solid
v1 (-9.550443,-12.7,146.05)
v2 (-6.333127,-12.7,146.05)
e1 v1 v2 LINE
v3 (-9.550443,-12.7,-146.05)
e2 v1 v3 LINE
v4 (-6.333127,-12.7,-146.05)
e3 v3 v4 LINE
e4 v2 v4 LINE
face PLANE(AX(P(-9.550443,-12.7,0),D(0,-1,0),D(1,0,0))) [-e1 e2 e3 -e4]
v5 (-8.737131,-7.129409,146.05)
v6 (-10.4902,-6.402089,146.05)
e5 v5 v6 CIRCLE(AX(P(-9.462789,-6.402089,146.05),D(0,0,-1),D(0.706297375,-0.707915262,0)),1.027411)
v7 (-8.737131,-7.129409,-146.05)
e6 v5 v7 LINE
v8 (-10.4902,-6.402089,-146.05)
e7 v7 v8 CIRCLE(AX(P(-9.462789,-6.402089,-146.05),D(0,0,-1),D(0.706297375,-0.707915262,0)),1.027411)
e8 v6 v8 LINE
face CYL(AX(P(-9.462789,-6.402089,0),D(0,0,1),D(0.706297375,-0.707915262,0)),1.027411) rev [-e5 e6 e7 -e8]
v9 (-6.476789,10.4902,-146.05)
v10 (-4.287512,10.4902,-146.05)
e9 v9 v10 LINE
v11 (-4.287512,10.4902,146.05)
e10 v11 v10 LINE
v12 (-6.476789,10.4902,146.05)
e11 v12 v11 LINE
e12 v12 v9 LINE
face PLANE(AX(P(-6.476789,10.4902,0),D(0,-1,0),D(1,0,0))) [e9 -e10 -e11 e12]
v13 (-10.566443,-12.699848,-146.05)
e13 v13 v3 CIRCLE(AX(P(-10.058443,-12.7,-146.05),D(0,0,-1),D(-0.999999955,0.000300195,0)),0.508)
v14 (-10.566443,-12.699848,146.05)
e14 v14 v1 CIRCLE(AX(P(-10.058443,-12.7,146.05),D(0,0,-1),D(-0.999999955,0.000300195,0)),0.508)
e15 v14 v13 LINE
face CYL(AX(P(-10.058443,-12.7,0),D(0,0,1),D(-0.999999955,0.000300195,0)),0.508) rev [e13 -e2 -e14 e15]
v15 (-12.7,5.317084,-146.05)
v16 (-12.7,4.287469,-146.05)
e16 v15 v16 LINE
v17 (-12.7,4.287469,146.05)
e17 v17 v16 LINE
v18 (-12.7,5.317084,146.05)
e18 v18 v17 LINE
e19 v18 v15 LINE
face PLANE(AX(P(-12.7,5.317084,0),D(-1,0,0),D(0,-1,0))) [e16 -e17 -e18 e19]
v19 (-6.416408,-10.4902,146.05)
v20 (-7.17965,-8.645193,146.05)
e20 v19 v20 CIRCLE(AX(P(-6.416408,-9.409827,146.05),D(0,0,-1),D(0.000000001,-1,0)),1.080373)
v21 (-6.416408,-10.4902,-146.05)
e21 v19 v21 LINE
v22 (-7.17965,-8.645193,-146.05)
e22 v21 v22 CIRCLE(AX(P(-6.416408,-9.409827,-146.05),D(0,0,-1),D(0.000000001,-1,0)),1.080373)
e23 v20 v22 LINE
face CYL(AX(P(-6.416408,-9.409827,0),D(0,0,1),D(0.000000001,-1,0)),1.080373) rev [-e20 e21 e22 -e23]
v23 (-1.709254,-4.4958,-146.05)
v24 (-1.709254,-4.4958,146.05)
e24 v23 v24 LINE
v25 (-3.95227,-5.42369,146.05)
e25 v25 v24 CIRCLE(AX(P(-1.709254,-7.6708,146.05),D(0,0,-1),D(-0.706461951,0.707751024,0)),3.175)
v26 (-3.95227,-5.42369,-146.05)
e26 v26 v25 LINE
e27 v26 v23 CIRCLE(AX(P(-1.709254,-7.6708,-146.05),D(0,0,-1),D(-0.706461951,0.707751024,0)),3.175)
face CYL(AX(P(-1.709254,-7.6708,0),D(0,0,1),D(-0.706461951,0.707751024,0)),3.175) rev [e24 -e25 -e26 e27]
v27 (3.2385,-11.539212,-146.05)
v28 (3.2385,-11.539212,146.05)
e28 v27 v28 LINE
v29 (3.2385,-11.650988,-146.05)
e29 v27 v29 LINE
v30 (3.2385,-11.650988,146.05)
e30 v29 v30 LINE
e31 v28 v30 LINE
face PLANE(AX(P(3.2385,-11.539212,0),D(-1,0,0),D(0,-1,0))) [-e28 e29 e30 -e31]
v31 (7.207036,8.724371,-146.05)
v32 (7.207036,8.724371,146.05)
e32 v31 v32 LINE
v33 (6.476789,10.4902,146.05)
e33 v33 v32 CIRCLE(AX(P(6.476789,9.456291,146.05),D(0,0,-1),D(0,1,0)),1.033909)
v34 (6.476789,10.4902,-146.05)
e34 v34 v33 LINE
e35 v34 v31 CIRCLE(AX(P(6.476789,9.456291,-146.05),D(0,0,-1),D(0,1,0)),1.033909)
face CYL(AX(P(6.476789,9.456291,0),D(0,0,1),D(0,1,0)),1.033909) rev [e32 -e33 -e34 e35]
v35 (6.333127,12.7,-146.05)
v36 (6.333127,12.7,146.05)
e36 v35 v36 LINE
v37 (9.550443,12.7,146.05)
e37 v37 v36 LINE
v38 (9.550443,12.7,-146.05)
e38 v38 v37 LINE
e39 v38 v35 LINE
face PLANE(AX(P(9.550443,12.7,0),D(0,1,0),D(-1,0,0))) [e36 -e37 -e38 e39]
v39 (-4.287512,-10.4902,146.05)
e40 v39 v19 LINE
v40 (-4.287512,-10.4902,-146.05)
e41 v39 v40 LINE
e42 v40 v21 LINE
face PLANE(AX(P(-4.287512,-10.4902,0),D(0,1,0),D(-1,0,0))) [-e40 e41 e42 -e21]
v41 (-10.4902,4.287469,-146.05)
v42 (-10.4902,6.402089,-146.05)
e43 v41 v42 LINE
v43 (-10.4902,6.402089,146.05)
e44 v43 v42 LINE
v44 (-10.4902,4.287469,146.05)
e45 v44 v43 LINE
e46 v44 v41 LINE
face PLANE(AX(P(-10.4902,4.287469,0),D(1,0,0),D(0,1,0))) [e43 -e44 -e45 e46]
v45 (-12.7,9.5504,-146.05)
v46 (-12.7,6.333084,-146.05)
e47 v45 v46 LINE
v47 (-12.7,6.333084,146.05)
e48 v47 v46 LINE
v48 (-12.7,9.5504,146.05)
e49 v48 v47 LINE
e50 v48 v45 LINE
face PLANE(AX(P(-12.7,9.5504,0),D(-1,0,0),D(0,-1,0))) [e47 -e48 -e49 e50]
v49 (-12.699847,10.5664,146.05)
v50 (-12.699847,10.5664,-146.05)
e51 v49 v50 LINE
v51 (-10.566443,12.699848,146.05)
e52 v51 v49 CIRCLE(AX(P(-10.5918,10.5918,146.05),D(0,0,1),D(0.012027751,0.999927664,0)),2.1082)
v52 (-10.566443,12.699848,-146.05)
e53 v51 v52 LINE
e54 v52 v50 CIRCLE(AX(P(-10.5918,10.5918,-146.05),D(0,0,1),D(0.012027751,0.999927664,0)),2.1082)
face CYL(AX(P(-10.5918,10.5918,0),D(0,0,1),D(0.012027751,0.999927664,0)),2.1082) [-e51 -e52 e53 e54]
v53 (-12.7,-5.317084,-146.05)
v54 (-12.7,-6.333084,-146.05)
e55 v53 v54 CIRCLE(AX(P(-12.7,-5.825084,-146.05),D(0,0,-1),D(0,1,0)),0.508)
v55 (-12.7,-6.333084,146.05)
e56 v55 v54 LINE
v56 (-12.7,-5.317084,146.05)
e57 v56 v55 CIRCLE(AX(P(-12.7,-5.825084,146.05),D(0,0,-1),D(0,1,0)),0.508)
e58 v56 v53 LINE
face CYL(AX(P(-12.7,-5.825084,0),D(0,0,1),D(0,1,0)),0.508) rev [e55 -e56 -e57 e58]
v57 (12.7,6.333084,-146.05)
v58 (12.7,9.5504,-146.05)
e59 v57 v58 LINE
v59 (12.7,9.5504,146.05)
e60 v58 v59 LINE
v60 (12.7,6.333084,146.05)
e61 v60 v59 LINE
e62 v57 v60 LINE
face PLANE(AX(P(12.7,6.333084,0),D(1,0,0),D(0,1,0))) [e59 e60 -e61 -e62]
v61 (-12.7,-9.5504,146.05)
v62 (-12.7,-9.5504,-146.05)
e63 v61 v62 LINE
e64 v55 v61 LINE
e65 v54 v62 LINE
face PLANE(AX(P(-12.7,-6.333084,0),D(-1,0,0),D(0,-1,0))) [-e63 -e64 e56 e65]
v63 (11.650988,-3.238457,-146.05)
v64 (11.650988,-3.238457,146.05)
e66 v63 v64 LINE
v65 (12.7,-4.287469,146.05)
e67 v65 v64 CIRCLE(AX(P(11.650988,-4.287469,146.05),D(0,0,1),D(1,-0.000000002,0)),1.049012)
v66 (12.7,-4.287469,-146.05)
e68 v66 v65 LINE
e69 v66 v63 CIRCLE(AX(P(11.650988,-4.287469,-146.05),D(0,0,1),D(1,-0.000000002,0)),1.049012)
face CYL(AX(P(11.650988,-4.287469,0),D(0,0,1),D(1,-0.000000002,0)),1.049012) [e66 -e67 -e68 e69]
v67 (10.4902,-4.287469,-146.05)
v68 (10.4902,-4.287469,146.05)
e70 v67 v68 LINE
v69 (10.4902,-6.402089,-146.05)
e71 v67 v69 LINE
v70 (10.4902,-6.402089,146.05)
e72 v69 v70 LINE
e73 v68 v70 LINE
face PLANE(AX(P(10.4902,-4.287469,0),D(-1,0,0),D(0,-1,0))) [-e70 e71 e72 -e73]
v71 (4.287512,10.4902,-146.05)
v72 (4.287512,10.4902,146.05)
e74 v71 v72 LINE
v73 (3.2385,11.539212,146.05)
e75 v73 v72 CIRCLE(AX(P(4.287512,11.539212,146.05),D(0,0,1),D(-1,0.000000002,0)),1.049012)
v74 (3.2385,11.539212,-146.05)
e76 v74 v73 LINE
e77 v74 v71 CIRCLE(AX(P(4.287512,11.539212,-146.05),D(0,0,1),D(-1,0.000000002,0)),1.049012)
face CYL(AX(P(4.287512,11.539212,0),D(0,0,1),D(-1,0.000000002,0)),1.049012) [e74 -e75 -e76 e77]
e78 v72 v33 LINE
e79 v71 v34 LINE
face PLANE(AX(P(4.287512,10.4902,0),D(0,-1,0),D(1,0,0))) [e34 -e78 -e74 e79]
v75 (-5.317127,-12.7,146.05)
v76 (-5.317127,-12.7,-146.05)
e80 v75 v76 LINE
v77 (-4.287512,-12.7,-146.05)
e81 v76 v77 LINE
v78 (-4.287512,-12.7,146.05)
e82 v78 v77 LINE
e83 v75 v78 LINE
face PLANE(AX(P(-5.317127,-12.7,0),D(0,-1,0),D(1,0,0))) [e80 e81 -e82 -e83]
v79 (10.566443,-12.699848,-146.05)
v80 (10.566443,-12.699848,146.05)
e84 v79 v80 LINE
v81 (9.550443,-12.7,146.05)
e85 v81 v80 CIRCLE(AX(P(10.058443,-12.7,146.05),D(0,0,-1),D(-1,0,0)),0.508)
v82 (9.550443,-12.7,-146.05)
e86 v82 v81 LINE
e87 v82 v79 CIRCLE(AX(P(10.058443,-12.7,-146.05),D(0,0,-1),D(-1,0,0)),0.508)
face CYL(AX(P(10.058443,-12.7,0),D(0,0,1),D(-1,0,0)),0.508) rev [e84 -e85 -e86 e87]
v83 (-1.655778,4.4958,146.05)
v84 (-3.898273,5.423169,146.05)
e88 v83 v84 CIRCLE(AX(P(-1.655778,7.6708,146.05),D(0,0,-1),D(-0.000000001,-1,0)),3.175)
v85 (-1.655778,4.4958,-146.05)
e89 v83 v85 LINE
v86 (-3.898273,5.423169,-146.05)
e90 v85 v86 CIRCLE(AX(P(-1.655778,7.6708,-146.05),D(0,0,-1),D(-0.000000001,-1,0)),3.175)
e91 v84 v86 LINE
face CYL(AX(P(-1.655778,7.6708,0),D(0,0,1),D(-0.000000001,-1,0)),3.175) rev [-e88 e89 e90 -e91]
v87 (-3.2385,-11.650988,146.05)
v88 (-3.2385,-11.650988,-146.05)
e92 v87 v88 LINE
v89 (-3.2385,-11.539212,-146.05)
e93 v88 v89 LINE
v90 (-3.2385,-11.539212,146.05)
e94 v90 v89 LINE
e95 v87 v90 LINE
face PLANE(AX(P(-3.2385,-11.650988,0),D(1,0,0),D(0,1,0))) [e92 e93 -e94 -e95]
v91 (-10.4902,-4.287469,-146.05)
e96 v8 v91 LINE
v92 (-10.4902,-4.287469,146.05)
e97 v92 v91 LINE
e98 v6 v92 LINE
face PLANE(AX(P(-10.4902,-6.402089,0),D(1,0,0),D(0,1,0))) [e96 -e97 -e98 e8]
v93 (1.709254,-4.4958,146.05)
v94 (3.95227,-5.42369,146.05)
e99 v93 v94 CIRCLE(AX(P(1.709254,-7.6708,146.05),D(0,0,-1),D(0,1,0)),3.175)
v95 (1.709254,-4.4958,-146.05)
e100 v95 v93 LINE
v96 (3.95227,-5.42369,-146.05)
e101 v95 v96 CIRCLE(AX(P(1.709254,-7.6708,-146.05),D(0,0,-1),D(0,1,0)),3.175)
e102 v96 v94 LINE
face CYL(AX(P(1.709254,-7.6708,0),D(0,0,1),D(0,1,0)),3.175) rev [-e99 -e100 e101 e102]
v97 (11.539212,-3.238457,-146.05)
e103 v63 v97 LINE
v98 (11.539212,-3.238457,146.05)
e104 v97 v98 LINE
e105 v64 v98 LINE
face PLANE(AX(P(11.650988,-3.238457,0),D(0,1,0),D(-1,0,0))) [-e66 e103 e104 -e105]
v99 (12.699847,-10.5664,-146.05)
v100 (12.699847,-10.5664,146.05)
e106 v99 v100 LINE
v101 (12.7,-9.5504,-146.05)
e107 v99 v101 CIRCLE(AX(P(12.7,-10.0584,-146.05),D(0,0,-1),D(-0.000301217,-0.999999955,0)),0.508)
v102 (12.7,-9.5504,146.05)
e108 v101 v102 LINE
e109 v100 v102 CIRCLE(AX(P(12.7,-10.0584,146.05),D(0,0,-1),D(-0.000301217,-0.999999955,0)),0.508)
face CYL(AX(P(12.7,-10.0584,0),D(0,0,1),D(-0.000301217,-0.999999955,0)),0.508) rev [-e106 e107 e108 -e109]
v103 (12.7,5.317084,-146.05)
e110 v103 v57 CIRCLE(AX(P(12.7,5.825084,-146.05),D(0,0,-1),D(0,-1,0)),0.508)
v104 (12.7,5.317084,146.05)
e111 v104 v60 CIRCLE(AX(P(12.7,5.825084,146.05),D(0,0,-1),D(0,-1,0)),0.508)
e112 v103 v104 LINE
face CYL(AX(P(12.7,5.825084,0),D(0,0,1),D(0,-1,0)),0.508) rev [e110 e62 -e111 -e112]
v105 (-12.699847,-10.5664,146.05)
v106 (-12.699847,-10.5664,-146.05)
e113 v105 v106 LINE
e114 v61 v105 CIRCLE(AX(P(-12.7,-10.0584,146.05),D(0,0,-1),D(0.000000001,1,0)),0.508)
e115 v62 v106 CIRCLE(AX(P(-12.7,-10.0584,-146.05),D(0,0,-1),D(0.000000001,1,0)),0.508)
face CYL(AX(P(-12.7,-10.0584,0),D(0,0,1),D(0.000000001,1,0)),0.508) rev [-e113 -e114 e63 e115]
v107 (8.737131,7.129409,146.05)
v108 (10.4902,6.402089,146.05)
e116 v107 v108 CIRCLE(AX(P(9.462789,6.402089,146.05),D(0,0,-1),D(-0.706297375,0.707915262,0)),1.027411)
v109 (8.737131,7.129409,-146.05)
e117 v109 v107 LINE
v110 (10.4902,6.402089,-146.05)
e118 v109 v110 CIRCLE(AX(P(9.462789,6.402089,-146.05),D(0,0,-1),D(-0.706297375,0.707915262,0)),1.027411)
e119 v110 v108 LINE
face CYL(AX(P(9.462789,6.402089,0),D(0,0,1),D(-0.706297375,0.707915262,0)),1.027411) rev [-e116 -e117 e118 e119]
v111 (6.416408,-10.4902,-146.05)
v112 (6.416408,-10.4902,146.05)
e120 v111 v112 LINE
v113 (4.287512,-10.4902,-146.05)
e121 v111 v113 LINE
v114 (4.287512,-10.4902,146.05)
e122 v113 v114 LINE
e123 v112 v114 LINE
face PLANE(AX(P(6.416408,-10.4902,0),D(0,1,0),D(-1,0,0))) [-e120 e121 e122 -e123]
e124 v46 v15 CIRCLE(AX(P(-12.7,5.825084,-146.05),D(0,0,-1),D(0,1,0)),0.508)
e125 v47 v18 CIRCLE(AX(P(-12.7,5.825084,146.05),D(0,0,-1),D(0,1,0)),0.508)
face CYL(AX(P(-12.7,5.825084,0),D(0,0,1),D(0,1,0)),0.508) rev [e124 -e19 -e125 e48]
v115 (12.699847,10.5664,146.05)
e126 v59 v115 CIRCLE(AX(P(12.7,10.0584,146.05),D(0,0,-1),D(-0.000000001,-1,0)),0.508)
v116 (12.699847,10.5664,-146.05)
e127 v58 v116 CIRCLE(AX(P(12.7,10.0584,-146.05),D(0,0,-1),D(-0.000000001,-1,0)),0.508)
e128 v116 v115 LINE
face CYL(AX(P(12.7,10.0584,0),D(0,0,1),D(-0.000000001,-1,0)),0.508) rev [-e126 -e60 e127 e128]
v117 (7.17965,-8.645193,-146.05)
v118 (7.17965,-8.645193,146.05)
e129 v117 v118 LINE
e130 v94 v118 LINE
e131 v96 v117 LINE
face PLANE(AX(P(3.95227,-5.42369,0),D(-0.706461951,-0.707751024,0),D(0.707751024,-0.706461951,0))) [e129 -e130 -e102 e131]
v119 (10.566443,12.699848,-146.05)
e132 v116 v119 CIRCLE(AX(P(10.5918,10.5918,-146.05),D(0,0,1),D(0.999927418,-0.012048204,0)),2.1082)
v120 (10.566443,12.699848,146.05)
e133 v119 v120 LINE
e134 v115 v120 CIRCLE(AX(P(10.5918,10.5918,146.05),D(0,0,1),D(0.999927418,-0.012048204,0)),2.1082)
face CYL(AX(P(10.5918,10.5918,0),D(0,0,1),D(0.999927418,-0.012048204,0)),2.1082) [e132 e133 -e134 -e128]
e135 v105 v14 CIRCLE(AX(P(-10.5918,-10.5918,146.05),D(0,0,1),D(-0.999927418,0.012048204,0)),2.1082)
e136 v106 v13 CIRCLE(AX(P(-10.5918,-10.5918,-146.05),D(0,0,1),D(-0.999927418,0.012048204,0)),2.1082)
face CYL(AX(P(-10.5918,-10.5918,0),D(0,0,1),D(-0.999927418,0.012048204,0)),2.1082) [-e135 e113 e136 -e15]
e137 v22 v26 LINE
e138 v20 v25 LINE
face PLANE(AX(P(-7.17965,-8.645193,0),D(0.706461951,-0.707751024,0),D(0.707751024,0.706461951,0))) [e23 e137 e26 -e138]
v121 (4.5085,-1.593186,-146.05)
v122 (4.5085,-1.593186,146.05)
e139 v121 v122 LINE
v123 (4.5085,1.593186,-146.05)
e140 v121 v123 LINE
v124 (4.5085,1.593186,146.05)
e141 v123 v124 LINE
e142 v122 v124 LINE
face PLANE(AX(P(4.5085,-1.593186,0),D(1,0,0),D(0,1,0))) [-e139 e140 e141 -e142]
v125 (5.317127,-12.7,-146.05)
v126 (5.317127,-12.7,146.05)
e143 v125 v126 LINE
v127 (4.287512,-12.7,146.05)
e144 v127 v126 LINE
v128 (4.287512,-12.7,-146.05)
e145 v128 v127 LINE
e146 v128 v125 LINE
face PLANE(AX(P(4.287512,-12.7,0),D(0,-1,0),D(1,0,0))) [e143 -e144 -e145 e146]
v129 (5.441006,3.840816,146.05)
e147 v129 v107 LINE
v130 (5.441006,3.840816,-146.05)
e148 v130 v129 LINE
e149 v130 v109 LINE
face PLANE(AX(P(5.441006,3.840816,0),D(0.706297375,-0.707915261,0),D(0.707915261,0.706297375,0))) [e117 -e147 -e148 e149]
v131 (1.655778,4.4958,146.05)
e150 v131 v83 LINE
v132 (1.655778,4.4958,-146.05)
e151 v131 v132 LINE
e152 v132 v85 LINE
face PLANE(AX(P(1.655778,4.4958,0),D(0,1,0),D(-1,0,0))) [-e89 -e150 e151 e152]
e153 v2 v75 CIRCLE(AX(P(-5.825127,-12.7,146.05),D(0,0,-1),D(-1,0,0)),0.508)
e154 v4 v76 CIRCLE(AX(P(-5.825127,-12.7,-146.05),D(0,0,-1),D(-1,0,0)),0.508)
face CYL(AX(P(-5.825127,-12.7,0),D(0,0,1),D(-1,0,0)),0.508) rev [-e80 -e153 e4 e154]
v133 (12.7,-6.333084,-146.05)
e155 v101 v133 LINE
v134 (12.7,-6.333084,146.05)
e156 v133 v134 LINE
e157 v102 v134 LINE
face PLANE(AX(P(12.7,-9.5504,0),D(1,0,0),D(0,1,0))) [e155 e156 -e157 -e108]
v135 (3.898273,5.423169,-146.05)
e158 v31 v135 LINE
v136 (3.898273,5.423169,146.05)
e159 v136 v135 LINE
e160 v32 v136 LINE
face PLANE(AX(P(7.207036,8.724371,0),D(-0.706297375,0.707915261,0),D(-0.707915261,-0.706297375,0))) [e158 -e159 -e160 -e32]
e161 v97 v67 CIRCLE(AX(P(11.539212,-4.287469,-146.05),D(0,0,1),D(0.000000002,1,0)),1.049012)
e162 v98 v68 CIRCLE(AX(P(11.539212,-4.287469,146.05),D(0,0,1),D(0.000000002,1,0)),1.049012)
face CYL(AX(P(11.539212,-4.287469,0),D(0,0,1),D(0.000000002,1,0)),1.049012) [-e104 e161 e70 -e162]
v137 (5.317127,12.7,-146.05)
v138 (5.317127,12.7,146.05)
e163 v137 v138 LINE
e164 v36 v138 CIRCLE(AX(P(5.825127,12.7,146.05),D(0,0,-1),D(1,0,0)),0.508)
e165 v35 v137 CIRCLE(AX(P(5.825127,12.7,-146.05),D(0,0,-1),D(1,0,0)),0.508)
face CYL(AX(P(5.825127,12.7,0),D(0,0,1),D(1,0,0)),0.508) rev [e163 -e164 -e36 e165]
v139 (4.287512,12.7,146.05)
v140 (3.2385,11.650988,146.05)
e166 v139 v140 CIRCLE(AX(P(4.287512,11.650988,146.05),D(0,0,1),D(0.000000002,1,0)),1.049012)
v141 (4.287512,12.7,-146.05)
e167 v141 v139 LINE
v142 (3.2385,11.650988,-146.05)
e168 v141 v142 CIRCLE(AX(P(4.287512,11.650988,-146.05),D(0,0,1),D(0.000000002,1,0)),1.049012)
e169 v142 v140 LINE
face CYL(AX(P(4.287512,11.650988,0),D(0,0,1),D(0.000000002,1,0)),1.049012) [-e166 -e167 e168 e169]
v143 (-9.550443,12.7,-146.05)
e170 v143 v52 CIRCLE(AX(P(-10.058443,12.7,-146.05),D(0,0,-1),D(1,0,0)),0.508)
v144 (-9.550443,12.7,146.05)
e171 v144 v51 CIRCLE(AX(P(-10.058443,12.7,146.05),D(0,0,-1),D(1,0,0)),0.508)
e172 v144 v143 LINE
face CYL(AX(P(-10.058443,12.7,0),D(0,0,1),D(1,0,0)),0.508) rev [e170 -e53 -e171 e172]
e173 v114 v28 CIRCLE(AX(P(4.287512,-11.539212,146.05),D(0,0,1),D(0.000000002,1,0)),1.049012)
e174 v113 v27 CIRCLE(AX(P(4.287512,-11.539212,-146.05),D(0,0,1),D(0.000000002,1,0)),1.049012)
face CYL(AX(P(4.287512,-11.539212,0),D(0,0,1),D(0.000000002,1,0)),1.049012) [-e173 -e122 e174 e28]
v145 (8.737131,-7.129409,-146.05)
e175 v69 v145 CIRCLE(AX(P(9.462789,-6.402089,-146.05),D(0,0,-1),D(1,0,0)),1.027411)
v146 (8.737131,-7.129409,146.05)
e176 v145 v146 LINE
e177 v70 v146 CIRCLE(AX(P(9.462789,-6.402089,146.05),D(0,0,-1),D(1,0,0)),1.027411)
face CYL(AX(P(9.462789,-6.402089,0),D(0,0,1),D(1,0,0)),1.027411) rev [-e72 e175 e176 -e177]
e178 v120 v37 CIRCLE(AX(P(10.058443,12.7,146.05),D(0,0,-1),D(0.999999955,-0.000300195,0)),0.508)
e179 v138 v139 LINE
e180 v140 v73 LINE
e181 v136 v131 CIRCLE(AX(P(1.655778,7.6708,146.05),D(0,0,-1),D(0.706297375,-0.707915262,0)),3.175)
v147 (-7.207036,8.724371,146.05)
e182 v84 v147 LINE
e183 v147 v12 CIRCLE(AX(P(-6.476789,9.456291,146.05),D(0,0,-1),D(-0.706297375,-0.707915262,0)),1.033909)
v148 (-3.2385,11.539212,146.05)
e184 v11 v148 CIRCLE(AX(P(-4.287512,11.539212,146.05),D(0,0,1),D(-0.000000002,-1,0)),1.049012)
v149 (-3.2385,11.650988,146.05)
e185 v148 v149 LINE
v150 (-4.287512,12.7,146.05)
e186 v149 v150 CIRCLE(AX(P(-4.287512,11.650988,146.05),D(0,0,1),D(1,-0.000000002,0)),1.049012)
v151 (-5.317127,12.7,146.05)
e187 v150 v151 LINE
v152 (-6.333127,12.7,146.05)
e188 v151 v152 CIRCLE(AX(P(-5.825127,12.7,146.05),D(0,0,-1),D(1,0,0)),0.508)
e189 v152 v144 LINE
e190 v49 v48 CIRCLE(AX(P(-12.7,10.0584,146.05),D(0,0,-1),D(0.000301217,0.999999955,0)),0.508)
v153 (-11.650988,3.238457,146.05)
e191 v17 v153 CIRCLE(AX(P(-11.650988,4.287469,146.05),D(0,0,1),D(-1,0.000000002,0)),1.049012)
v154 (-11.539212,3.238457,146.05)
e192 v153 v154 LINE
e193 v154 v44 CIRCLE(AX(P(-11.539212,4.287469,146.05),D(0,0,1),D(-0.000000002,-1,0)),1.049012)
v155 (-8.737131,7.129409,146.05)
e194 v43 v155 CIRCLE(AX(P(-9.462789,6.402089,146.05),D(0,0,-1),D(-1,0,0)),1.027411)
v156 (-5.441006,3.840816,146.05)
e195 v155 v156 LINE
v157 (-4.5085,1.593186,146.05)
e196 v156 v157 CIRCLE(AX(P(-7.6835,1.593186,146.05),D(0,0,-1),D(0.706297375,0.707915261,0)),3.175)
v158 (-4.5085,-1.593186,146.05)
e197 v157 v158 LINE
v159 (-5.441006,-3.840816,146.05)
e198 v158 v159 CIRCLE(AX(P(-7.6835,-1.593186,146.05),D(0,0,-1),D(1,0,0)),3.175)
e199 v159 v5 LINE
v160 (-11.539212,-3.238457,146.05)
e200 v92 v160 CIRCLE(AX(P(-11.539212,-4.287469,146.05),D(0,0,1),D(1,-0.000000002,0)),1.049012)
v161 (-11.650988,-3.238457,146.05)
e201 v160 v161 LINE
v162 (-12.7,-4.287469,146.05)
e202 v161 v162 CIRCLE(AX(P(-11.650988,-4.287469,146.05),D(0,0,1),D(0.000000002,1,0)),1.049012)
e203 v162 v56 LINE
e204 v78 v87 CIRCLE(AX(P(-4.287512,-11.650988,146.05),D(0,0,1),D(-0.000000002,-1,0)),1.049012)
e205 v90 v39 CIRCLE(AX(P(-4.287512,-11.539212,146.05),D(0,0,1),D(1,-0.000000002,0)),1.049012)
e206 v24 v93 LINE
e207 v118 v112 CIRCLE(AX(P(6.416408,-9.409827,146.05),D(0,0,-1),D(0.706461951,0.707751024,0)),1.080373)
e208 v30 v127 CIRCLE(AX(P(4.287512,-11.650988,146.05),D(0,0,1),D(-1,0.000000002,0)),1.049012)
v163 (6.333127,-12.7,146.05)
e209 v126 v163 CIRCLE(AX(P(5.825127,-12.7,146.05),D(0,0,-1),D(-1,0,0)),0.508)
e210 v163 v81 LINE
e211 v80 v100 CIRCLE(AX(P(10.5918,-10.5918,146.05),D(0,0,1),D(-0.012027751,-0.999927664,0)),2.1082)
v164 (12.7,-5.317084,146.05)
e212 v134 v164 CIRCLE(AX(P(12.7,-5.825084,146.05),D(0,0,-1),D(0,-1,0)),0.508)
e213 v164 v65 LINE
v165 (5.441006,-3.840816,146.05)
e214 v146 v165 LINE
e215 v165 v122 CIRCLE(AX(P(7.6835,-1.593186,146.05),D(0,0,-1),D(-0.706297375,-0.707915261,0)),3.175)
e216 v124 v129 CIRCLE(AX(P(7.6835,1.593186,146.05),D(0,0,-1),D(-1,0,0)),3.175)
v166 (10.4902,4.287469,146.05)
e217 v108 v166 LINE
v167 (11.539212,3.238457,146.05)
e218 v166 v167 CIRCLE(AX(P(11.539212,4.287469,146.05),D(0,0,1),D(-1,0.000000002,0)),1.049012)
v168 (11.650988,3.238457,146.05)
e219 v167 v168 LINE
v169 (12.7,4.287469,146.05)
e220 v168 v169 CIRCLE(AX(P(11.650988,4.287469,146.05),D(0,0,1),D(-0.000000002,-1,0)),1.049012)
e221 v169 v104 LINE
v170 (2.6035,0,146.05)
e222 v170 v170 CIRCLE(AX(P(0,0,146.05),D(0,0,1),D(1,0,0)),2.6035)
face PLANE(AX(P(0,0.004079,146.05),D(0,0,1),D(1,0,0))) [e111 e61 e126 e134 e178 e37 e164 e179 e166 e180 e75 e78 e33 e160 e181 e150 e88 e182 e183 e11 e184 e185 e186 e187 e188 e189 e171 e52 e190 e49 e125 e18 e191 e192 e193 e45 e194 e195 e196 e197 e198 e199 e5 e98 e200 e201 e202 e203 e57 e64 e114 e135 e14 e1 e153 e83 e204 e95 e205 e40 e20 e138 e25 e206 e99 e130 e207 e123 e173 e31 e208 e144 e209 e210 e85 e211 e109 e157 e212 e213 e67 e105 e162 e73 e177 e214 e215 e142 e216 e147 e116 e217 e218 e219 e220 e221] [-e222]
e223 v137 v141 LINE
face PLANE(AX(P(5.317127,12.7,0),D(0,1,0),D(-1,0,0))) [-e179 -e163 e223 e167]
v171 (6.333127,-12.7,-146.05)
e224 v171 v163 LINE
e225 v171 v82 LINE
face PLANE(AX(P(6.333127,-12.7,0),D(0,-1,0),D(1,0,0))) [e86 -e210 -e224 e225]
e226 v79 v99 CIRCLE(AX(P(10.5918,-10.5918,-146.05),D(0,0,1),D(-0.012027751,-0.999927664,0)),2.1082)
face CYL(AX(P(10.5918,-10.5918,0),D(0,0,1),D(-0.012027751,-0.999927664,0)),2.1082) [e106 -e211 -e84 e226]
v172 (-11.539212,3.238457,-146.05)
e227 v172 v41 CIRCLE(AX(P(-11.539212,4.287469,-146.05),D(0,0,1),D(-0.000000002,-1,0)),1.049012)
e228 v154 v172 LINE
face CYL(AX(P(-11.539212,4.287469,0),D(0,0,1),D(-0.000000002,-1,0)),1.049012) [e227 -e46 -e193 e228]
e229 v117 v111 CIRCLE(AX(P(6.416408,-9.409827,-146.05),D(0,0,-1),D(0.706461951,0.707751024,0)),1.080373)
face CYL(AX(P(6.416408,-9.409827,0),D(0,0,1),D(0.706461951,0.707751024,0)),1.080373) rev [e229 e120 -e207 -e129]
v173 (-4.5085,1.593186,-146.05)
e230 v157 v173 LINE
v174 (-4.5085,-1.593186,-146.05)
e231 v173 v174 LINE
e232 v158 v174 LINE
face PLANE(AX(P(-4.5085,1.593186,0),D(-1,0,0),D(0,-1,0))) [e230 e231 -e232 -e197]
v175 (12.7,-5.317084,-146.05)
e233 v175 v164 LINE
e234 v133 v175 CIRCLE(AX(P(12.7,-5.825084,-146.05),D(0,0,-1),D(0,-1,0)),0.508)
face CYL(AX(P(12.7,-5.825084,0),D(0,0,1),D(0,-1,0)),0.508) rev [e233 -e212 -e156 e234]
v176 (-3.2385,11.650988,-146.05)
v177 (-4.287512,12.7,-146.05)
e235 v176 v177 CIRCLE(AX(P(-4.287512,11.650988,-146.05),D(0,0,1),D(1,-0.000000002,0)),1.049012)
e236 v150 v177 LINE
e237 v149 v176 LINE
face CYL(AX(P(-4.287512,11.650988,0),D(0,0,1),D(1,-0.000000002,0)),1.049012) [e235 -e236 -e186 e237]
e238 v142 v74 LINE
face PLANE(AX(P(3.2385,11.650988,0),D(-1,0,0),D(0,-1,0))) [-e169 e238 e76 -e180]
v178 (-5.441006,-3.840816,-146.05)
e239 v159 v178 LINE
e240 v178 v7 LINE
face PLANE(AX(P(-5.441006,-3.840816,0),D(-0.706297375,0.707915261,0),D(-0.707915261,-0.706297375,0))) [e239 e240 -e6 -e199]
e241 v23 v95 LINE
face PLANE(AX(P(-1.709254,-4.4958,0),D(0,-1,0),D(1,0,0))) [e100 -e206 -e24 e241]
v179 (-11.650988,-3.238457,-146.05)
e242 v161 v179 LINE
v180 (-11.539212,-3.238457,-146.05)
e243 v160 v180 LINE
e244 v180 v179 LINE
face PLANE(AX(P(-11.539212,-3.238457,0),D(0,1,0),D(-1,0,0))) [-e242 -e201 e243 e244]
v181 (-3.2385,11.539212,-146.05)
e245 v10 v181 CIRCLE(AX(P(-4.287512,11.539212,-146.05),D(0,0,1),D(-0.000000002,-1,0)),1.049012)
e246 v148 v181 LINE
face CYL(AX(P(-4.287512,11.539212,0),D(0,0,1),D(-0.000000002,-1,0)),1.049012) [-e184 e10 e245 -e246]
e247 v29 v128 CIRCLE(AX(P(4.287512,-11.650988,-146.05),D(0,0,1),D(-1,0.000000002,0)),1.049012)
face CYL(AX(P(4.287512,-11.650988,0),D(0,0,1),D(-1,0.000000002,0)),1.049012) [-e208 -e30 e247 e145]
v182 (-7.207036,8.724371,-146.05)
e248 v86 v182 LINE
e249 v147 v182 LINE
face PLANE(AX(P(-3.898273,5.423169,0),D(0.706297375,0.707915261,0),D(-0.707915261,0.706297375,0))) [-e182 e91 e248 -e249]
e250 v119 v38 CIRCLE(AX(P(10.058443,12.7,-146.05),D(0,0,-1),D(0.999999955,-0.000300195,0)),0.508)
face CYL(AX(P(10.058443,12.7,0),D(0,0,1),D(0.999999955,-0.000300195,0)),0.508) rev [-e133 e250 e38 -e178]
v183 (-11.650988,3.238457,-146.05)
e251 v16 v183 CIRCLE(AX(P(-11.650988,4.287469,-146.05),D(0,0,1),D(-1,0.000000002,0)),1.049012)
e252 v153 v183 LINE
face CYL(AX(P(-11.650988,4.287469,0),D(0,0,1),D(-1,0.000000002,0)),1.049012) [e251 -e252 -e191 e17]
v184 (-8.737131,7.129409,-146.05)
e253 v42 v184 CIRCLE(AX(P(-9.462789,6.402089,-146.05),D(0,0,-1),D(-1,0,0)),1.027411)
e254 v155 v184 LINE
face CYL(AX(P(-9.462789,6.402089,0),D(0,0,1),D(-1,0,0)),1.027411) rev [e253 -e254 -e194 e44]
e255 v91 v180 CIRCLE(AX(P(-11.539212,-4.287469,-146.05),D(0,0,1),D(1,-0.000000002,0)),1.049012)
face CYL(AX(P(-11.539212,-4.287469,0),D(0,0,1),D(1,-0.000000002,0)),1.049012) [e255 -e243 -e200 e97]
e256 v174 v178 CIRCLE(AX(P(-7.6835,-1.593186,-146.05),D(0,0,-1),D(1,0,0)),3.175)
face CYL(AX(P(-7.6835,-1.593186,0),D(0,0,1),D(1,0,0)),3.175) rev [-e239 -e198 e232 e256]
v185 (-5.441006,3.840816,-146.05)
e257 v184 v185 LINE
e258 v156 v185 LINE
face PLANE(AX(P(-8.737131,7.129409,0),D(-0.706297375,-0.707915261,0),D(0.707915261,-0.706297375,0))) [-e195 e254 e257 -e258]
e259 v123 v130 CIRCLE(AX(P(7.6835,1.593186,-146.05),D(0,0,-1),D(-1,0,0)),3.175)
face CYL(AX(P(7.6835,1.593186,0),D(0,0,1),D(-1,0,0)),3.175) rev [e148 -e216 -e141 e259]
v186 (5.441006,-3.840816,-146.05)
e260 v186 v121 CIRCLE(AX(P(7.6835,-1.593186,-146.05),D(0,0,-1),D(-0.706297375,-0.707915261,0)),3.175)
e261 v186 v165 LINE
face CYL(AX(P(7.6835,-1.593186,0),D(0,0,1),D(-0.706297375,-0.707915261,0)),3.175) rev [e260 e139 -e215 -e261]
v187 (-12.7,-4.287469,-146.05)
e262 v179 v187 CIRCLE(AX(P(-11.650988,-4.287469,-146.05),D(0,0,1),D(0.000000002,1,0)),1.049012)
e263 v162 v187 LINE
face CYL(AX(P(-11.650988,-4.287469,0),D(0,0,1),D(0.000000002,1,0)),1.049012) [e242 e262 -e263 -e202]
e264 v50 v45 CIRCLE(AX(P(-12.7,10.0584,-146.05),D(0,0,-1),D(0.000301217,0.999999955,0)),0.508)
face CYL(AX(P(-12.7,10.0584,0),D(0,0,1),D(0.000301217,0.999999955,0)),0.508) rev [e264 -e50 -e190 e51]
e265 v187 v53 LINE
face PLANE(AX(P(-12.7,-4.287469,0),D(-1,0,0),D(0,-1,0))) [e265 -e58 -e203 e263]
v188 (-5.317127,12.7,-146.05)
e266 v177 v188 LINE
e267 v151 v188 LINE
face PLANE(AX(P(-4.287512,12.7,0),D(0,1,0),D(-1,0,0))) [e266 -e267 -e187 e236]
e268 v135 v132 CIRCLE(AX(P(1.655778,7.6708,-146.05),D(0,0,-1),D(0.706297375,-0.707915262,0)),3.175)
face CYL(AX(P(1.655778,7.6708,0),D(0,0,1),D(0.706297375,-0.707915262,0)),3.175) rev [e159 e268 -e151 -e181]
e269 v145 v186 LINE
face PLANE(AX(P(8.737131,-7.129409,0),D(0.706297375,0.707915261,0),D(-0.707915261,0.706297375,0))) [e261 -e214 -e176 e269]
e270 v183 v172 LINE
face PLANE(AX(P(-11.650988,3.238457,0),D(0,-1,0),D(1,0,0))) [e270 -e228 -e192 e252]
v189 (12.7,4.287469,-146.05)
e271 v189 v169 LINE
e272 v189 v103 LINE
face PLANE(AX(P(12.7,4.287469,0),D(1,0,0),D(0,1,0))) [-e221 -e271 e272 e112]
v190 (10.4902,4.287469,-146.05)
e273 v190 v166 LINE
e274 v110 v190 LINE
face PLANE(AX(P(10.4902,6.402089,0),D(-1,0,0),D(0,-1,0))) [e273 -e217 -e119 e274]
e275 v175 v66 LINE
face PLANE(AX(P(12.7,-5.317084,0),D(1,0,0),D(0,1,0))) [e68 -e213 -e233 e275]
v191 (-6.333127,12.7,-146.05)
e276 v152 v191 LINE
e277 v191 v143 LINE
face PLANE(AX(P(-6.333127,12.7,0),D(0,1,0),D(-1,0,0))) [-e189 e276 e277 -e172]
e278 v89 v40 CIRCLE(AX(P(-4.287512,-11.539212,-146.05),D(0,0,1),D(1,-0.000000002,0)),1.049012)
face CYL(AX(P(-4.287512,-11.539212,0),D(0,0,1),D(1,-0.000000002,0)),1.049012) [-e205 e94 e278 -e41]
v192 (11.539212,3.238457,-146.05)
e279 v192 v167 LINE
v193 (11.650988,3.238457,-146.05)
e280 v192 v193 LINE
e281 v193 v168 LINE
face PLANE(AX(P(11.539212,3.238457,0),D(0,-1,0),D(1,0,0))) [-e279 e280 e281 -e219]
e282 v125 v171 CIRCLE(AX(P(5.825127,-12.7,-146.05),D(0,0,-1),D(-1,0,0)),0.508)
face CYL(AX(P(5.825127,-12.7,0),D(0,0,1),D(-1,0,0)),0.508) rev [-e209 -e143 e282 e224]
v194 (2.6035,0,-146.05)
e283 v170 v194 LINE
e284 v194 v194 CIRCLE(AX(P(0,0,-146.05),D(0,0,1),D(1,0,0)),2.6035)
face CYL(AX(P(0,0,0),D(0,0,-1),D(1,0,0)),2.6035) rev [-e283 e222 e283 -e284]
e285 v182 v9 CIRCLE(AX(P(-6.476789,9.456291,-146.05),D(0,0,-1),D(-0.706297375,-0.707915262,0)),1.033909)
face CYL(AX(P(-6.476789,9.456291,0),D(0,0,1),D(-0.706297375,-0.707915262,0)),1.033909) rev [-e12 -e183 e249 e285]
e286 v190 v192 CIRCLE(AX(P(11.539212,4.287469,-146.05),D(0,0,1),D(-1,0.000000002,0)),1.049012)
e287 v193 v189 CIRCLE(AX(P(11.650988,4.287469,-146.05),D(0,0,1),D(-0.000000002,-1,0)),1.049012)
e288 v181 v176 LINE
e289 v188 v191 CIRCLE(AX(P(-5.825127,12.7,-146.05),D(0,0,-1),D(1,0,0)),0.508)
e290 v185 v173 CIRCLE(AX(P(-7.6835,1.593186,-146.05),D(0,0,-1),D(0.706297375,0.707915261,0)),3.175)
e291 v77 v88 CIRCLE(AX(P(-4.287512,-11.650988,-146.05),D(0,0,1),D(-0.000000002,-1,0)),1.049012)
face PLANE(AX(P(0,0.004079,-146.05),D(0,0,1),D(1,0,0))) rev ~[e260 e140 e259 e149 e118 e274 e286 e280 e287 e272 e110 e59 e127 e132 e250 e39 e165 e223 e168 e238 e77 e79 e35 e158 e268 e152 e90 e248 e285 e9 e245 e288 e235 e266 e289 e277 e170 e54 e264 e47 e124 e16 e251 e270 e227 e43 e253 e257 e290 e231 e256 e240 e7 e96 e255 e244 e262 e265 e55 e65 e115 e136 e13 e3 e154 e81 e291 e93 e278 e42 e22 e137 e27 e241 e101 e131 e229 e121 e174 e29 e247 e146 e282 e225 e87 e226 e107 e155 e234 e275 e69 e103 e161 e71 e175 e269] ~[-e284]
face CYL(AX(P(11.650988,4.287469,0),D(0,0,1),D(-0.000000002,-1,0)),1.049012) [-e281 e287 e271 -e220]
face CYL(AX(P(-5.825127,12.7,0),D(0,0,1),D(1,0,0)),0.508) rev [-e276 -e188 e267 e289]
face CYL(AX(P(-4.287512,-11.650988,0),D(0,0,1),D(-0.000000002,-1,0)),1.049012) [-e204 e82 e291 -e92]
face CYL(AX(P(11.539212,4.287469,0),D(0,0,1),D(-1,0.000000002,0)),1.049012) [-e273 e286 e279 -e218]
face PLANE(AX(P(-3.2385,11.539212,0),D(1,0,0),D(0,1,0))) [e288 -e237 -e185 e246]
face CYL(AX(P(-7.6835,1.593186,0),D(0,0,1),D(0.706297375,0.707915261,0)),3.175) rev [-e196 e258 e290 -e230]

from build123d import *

# Parameters (mm, degrees)
SKETCH1_R           = 2.6035
BOSS_EXTRUDE1_DEPTH = 146.05


with BuildPart() as part:
    # Sketch1 → Boss-Extrude1 (new body, symmetric)
    with BuildSketch(Plane.XY):
        with BuildLine():
            Line((-7.179650497, -8.645192506), (-3.952270251, -5.423690499))
            ThreePointArc((-3.952270251, -5.423690499), (-2.922936451, -4.736929036), (-1.709253557, -4.4958))
            Line((-1.709253557, -4.4958), (1.709253557, -4.4958))
            ThreePointArc((1.709253557, -4.4958), (2.922936451, -4.736929036), (3.952270251, -5.423690499))
            Line((3.952270251, -5.423690499), (7.179650497, -8.645192506))
            ThreePointArc((7.179650497, -8.645192506), (7.41473083, -9.822813117), (6.416408329, -10.4902))
            Line((6.416408329, -10.4902), (4.287512407, -10.4902))
            ThreePointArc((4.287512407, -10.4902), (3.54574862, -10.79744862), (3.2385, -11.539212407))
            Line((3.2385, -11.539212407), (3.2385, -11.650987593))
            ThreePointArc((3.2385, -11.650987593), (3.54574862, -12.39275138), (4.287512407, -12.7))
            Line((4.287512407, -12.7), (5.317126718, -12.7))
            ThreePointArc((5.317126718, -12.7), (5.825126718, -12.192), (6.333126718, -12.7))
            Line((6.333126718, -12.7), (9.550443118, -12.7))
            ThreePointArc((9.550443118, -12.7), (10.058366869, -12.192000006), (10.566443095, -12.699847501))
            ThreePointArc((10.566443095, -12.699847501), (12.082537762, -12.08250727), (12.699846982, -10.566399977))
            ThreePointArc((12.699846982, -10.566399977), (12.192000006, -10.058323491), (12.7, -9.5504))
            Line((12.7, -9.5504), (12.7, -6.3330836))
            ThreePointArc((12.7, -6.3330836), (12.192, -5.8250836), (12.7, -5.3170836))
            Line((12.7, -5.3170836), (12.7, -4.287469289))
            ThreePointArc((12.7, -4.287469289), (12.39275138, -3.545705502), (11.650987593, -3.238456882))
            Line((11.650987593, -3.238456882), (11.539212407, -3.238456882))
            ThreePointArc((11.539212407, -3.238456882), (10.79744862, -3.545705502), (10.4902, -4.287469289))
            Line((10.4902, -4.287469289), (10.4902, -6.402089023))
            ThreePointArc((10.4902, -6.402089023), (9.856505071, -7.351067942), (8.737131347, -7.129408934))
            Line((8.737131347, -7.129408934), (5.441005833, -3.840816462))
            ThreePointArc((5.441005833, -3.840816462), (4.750877967, -2.809883091), (4.5085, -1.593185507))
            Line((4.5085, -1.593185507), (4.5085, 1.593185507))
            ThreePointArc((4.5085, 1.593185507), (4.750877967, 2.809883091), (5.441005833, 3.840816462))
            Line((5.441005833, 3.840816462), (8.737131347, 7.129408934))
            ThreePointArc((8.737131347, 7.129408934), (9.856505071, 7.351067942), (10.4902, 6.402089023))
            Line((10.4902, 6.402089023), (10.4902, 4.287469289))
            ThreePointArc((10.4902, 4.287469289), (10.79744862, 3.545705502), (11.539212407, 3.238456882))
            Line((11.539212407, 3.238456882), (11.650987593, 3.238456882))
            ThreePointArc((11.650987593, 3.238456882), (12.39275138, 3.545705502), (12.7, 4.287469289))
            Line((12.7, 4.287469289), (12.7, 5.3170836))
            ThreePointArc((12.7, 5.3170836), (12.192, 5.8250836), (12.7, 6.3330836))
            Line((12.7, 6.3330836), (12.7, 9.5504))
            ThreePointArc((12.7, 9.5504), (12.192000006, 10.058323491), (12.699846982, 10.566399977))
            ThreePointArc((12.699846982, 10.566399977), (12.082537762, 12.08250727), (10.566443095, 12.699847501))
            ThreePointArc((10.566443095, 12.699847501), (10.058366869, 12.192000006), (9.550443118, 12.7))
            Line((9.550443118, 12.7), (6.333126718, 12.7))
            ThreePointArc((6.333126718, 12.7), (5.825126718, 12.192), (5.317126718, 12.7))
            Line((5.317126718, 12.7), (4.287512407, 12.7))
            ThreePointArc((4.287512407, 12.7), (3.54574862, 12.39275138), (3.2385, 11.650987593))
            Line((3.2385, 11.650987593), (3.2385, 11.539212407))
            ThreePointArc((3.2385, 11.539212407), (3.54574862, 10.79744862), (4.287512407, 10.4902))
            Line((4.287512407, 10.4902), (6.476788598, 10.4902))
            ThreePointArc((6.476788598, 10.4902), (7.432222385, 9.85140422), (7.207036008, 8.724370562))
            Line((7.207036008, 8.724370562), (3.898272566, 5.423169045))
            ThreePointArc((3.898272566, 5.423169045), (2.869120213, 4.736787962), (1.655778399, 4.4958))
            Line((1.655778399, 4.4958), (-1.655778399, 4.4958))
            ThreePointArc((-1.655778399, 4.4958), (-2.869120213, 4.736787962), (-3.898272566, 5.423169045))
            Line((-3.898272566, 5.423169045), (-7.207036008, 8.724370562))
            ThreePointArc((-7.207036008, 8.724370562), (-7.432222385, 9.85140422), (-6.476788598, 10.4902))
            Line((-6.476788598, 10.4902), (-4.287512407, 10.4902))
            ThreePointArc((-4.287512407, 10.4902), (-3.54574862, 10.79744862), (-3.2385, 11.539212407))
            Line((-3.2385, 11.539212407), (-3.2385, 11.650987593))
            ThreePointArc((-3.2385, 11.650987593), (-3.54574862, 12.39275138), (-4.287512407, 12.7))
            Line((-4.287512407, 12.7), (-5.317126718, 12.7))
            ThreePointArc((-5.317126718, 12.7), (-5.825126718, 12.192), (-6.333126718, 12.7))
            Line((-6.333126718, 12.7), (-9.550443118, 12.7))
            ThreePointArc((-9.550443118, 12.7), (-10.058366869, 12.192000006), (-10.566443095, 12.699847501))
            ThreePointArc((-10.566443095, 12.699847501), (-12.082537762, 12.08250727), (-12.699846982, 10.566399977))
            ThreePointArc((-12.699846982, 10.566399977), (-12.192000006, 10.058323491), (-12.7, 9.5504))
            Line((-12.7, 9.5504), (-12.7, 6.3330836))
            ThreePointArc((-12.7, 6.3330836), (-12.192, 5.8250836), (-12.7, 5.3170836))
            Line((-12.7, 5.3170836), (-12.7, 4.287469289))
            ThreePointArc((-12.7, 4.287469289), (-12.39275138, 3.545705502), (-11.650987593, 3.238456882))
            Line((-11.650987593, 3.238456882), (-11.539212407, 3.238456882))
            ThreePointArc((-11.539212407, 3.238456882), (-10.79744862, 3.545705502), (-10.4902, 4.287469289))
            Line((-10.4902, 4.287469289), (-10.4902, 6.402089023))
            ThreePointArc((-10.4902, 6.402089023), (-9.856505071, 7.351067942), (-8.737131347, 7.129408934))
            Line((-8.737131347, 7.129408934), (-5.441005833, 3.840816462))
            ThreePointArc((-5.441005833, 3.840816462), (-4.750877967, 2.809883091), (-4.5085, 1.593185507))
            Line((-4.5085, 1.593185507), (-4.5085, -1.593185507))
            ThreePointArc((-4.5085, -1.593185507), (-4.750877967, -2.809883091), (-5.441005833, -3.840816462))
            Line((-5.441005833, -3.840816462), (-8.737131347, -7.129408934))
            ThreePointArc((-8.737131347, -7.129408934), (-9.856505071, -7.351067942), (-10.4902, -6.402089023))
            Line((-10.4902, -6.402089023), (-10.4902, -4.287469289))
            ThreePointArc((-10.4902, -4.287469289), (-10.79744862, -3.545705502), (-11.539212407, -3.238456882))
            Line((-11.539212407, -3.238456882), (-11.650987593, -3.238456882))
            ThreePointArc((-11.650987593, -3.238456882), (-12.39275138, -3.545705502), (-12.7, -4.287469289))
            Line((-12.7, -4.287469289), (-12.7, -5.3170836))
            ThreePointArc((-12.7, -5.3170836), (-12.192, -5.8250836), (-12.7, -6.3330836))
            Line((-12.7, -6.3330836), (-12.7, -9.5504))
            ThreePointArc((-12.7, -9.5504), (-12.192000006, -10.058323491), (-12.699846982, -10.566399977))
            ThreePointArc((-12.699846982, -10.566399977), (-12.082537762, -12.08250727), (-10.566443095, -12.699847501))
            ThreePointArc((-10.566443095, -12.699847501), (-10.058366869, -12.192000006), (-9.550443118, -12.7))
            Line((-9.550443118, -12.7), (-6.333126718, -12.7))
            ThreePointArc((-6.333126718, -12.7), (-5.825126718, -12.192), (-5.317126718, -12.7))
            Line((-5.317126718, -12.7), (-4.287512407, -12.7))
            ThreePointArc((-4.287512407, -12.7), (-3.54574862, -12.39275138), (-3.2385, -11.650987593))
            Line((-3.2385, -11.650987593), (-3.2385, -11.539212407))
            ThreePointArc((-3.2385, -11.539212407), (-3.54574862, -10.79744862), (-4.287512407, -10.4902))
            Line((-4.287512407, -10.4902), (-6.416408329, -10.4902))
            ThreePointArc((-6.416408329, -10.4902), (-7.41473083, -9.822813117), (-7.179650497, -8.645192506))
        make_face()
        Circle(SKETCH1_R, mode=Mode.SUBTRACT)
    extrude(amount=BOSS_EXTRUDE1_DEPTH, both=True)


solid = part.part
